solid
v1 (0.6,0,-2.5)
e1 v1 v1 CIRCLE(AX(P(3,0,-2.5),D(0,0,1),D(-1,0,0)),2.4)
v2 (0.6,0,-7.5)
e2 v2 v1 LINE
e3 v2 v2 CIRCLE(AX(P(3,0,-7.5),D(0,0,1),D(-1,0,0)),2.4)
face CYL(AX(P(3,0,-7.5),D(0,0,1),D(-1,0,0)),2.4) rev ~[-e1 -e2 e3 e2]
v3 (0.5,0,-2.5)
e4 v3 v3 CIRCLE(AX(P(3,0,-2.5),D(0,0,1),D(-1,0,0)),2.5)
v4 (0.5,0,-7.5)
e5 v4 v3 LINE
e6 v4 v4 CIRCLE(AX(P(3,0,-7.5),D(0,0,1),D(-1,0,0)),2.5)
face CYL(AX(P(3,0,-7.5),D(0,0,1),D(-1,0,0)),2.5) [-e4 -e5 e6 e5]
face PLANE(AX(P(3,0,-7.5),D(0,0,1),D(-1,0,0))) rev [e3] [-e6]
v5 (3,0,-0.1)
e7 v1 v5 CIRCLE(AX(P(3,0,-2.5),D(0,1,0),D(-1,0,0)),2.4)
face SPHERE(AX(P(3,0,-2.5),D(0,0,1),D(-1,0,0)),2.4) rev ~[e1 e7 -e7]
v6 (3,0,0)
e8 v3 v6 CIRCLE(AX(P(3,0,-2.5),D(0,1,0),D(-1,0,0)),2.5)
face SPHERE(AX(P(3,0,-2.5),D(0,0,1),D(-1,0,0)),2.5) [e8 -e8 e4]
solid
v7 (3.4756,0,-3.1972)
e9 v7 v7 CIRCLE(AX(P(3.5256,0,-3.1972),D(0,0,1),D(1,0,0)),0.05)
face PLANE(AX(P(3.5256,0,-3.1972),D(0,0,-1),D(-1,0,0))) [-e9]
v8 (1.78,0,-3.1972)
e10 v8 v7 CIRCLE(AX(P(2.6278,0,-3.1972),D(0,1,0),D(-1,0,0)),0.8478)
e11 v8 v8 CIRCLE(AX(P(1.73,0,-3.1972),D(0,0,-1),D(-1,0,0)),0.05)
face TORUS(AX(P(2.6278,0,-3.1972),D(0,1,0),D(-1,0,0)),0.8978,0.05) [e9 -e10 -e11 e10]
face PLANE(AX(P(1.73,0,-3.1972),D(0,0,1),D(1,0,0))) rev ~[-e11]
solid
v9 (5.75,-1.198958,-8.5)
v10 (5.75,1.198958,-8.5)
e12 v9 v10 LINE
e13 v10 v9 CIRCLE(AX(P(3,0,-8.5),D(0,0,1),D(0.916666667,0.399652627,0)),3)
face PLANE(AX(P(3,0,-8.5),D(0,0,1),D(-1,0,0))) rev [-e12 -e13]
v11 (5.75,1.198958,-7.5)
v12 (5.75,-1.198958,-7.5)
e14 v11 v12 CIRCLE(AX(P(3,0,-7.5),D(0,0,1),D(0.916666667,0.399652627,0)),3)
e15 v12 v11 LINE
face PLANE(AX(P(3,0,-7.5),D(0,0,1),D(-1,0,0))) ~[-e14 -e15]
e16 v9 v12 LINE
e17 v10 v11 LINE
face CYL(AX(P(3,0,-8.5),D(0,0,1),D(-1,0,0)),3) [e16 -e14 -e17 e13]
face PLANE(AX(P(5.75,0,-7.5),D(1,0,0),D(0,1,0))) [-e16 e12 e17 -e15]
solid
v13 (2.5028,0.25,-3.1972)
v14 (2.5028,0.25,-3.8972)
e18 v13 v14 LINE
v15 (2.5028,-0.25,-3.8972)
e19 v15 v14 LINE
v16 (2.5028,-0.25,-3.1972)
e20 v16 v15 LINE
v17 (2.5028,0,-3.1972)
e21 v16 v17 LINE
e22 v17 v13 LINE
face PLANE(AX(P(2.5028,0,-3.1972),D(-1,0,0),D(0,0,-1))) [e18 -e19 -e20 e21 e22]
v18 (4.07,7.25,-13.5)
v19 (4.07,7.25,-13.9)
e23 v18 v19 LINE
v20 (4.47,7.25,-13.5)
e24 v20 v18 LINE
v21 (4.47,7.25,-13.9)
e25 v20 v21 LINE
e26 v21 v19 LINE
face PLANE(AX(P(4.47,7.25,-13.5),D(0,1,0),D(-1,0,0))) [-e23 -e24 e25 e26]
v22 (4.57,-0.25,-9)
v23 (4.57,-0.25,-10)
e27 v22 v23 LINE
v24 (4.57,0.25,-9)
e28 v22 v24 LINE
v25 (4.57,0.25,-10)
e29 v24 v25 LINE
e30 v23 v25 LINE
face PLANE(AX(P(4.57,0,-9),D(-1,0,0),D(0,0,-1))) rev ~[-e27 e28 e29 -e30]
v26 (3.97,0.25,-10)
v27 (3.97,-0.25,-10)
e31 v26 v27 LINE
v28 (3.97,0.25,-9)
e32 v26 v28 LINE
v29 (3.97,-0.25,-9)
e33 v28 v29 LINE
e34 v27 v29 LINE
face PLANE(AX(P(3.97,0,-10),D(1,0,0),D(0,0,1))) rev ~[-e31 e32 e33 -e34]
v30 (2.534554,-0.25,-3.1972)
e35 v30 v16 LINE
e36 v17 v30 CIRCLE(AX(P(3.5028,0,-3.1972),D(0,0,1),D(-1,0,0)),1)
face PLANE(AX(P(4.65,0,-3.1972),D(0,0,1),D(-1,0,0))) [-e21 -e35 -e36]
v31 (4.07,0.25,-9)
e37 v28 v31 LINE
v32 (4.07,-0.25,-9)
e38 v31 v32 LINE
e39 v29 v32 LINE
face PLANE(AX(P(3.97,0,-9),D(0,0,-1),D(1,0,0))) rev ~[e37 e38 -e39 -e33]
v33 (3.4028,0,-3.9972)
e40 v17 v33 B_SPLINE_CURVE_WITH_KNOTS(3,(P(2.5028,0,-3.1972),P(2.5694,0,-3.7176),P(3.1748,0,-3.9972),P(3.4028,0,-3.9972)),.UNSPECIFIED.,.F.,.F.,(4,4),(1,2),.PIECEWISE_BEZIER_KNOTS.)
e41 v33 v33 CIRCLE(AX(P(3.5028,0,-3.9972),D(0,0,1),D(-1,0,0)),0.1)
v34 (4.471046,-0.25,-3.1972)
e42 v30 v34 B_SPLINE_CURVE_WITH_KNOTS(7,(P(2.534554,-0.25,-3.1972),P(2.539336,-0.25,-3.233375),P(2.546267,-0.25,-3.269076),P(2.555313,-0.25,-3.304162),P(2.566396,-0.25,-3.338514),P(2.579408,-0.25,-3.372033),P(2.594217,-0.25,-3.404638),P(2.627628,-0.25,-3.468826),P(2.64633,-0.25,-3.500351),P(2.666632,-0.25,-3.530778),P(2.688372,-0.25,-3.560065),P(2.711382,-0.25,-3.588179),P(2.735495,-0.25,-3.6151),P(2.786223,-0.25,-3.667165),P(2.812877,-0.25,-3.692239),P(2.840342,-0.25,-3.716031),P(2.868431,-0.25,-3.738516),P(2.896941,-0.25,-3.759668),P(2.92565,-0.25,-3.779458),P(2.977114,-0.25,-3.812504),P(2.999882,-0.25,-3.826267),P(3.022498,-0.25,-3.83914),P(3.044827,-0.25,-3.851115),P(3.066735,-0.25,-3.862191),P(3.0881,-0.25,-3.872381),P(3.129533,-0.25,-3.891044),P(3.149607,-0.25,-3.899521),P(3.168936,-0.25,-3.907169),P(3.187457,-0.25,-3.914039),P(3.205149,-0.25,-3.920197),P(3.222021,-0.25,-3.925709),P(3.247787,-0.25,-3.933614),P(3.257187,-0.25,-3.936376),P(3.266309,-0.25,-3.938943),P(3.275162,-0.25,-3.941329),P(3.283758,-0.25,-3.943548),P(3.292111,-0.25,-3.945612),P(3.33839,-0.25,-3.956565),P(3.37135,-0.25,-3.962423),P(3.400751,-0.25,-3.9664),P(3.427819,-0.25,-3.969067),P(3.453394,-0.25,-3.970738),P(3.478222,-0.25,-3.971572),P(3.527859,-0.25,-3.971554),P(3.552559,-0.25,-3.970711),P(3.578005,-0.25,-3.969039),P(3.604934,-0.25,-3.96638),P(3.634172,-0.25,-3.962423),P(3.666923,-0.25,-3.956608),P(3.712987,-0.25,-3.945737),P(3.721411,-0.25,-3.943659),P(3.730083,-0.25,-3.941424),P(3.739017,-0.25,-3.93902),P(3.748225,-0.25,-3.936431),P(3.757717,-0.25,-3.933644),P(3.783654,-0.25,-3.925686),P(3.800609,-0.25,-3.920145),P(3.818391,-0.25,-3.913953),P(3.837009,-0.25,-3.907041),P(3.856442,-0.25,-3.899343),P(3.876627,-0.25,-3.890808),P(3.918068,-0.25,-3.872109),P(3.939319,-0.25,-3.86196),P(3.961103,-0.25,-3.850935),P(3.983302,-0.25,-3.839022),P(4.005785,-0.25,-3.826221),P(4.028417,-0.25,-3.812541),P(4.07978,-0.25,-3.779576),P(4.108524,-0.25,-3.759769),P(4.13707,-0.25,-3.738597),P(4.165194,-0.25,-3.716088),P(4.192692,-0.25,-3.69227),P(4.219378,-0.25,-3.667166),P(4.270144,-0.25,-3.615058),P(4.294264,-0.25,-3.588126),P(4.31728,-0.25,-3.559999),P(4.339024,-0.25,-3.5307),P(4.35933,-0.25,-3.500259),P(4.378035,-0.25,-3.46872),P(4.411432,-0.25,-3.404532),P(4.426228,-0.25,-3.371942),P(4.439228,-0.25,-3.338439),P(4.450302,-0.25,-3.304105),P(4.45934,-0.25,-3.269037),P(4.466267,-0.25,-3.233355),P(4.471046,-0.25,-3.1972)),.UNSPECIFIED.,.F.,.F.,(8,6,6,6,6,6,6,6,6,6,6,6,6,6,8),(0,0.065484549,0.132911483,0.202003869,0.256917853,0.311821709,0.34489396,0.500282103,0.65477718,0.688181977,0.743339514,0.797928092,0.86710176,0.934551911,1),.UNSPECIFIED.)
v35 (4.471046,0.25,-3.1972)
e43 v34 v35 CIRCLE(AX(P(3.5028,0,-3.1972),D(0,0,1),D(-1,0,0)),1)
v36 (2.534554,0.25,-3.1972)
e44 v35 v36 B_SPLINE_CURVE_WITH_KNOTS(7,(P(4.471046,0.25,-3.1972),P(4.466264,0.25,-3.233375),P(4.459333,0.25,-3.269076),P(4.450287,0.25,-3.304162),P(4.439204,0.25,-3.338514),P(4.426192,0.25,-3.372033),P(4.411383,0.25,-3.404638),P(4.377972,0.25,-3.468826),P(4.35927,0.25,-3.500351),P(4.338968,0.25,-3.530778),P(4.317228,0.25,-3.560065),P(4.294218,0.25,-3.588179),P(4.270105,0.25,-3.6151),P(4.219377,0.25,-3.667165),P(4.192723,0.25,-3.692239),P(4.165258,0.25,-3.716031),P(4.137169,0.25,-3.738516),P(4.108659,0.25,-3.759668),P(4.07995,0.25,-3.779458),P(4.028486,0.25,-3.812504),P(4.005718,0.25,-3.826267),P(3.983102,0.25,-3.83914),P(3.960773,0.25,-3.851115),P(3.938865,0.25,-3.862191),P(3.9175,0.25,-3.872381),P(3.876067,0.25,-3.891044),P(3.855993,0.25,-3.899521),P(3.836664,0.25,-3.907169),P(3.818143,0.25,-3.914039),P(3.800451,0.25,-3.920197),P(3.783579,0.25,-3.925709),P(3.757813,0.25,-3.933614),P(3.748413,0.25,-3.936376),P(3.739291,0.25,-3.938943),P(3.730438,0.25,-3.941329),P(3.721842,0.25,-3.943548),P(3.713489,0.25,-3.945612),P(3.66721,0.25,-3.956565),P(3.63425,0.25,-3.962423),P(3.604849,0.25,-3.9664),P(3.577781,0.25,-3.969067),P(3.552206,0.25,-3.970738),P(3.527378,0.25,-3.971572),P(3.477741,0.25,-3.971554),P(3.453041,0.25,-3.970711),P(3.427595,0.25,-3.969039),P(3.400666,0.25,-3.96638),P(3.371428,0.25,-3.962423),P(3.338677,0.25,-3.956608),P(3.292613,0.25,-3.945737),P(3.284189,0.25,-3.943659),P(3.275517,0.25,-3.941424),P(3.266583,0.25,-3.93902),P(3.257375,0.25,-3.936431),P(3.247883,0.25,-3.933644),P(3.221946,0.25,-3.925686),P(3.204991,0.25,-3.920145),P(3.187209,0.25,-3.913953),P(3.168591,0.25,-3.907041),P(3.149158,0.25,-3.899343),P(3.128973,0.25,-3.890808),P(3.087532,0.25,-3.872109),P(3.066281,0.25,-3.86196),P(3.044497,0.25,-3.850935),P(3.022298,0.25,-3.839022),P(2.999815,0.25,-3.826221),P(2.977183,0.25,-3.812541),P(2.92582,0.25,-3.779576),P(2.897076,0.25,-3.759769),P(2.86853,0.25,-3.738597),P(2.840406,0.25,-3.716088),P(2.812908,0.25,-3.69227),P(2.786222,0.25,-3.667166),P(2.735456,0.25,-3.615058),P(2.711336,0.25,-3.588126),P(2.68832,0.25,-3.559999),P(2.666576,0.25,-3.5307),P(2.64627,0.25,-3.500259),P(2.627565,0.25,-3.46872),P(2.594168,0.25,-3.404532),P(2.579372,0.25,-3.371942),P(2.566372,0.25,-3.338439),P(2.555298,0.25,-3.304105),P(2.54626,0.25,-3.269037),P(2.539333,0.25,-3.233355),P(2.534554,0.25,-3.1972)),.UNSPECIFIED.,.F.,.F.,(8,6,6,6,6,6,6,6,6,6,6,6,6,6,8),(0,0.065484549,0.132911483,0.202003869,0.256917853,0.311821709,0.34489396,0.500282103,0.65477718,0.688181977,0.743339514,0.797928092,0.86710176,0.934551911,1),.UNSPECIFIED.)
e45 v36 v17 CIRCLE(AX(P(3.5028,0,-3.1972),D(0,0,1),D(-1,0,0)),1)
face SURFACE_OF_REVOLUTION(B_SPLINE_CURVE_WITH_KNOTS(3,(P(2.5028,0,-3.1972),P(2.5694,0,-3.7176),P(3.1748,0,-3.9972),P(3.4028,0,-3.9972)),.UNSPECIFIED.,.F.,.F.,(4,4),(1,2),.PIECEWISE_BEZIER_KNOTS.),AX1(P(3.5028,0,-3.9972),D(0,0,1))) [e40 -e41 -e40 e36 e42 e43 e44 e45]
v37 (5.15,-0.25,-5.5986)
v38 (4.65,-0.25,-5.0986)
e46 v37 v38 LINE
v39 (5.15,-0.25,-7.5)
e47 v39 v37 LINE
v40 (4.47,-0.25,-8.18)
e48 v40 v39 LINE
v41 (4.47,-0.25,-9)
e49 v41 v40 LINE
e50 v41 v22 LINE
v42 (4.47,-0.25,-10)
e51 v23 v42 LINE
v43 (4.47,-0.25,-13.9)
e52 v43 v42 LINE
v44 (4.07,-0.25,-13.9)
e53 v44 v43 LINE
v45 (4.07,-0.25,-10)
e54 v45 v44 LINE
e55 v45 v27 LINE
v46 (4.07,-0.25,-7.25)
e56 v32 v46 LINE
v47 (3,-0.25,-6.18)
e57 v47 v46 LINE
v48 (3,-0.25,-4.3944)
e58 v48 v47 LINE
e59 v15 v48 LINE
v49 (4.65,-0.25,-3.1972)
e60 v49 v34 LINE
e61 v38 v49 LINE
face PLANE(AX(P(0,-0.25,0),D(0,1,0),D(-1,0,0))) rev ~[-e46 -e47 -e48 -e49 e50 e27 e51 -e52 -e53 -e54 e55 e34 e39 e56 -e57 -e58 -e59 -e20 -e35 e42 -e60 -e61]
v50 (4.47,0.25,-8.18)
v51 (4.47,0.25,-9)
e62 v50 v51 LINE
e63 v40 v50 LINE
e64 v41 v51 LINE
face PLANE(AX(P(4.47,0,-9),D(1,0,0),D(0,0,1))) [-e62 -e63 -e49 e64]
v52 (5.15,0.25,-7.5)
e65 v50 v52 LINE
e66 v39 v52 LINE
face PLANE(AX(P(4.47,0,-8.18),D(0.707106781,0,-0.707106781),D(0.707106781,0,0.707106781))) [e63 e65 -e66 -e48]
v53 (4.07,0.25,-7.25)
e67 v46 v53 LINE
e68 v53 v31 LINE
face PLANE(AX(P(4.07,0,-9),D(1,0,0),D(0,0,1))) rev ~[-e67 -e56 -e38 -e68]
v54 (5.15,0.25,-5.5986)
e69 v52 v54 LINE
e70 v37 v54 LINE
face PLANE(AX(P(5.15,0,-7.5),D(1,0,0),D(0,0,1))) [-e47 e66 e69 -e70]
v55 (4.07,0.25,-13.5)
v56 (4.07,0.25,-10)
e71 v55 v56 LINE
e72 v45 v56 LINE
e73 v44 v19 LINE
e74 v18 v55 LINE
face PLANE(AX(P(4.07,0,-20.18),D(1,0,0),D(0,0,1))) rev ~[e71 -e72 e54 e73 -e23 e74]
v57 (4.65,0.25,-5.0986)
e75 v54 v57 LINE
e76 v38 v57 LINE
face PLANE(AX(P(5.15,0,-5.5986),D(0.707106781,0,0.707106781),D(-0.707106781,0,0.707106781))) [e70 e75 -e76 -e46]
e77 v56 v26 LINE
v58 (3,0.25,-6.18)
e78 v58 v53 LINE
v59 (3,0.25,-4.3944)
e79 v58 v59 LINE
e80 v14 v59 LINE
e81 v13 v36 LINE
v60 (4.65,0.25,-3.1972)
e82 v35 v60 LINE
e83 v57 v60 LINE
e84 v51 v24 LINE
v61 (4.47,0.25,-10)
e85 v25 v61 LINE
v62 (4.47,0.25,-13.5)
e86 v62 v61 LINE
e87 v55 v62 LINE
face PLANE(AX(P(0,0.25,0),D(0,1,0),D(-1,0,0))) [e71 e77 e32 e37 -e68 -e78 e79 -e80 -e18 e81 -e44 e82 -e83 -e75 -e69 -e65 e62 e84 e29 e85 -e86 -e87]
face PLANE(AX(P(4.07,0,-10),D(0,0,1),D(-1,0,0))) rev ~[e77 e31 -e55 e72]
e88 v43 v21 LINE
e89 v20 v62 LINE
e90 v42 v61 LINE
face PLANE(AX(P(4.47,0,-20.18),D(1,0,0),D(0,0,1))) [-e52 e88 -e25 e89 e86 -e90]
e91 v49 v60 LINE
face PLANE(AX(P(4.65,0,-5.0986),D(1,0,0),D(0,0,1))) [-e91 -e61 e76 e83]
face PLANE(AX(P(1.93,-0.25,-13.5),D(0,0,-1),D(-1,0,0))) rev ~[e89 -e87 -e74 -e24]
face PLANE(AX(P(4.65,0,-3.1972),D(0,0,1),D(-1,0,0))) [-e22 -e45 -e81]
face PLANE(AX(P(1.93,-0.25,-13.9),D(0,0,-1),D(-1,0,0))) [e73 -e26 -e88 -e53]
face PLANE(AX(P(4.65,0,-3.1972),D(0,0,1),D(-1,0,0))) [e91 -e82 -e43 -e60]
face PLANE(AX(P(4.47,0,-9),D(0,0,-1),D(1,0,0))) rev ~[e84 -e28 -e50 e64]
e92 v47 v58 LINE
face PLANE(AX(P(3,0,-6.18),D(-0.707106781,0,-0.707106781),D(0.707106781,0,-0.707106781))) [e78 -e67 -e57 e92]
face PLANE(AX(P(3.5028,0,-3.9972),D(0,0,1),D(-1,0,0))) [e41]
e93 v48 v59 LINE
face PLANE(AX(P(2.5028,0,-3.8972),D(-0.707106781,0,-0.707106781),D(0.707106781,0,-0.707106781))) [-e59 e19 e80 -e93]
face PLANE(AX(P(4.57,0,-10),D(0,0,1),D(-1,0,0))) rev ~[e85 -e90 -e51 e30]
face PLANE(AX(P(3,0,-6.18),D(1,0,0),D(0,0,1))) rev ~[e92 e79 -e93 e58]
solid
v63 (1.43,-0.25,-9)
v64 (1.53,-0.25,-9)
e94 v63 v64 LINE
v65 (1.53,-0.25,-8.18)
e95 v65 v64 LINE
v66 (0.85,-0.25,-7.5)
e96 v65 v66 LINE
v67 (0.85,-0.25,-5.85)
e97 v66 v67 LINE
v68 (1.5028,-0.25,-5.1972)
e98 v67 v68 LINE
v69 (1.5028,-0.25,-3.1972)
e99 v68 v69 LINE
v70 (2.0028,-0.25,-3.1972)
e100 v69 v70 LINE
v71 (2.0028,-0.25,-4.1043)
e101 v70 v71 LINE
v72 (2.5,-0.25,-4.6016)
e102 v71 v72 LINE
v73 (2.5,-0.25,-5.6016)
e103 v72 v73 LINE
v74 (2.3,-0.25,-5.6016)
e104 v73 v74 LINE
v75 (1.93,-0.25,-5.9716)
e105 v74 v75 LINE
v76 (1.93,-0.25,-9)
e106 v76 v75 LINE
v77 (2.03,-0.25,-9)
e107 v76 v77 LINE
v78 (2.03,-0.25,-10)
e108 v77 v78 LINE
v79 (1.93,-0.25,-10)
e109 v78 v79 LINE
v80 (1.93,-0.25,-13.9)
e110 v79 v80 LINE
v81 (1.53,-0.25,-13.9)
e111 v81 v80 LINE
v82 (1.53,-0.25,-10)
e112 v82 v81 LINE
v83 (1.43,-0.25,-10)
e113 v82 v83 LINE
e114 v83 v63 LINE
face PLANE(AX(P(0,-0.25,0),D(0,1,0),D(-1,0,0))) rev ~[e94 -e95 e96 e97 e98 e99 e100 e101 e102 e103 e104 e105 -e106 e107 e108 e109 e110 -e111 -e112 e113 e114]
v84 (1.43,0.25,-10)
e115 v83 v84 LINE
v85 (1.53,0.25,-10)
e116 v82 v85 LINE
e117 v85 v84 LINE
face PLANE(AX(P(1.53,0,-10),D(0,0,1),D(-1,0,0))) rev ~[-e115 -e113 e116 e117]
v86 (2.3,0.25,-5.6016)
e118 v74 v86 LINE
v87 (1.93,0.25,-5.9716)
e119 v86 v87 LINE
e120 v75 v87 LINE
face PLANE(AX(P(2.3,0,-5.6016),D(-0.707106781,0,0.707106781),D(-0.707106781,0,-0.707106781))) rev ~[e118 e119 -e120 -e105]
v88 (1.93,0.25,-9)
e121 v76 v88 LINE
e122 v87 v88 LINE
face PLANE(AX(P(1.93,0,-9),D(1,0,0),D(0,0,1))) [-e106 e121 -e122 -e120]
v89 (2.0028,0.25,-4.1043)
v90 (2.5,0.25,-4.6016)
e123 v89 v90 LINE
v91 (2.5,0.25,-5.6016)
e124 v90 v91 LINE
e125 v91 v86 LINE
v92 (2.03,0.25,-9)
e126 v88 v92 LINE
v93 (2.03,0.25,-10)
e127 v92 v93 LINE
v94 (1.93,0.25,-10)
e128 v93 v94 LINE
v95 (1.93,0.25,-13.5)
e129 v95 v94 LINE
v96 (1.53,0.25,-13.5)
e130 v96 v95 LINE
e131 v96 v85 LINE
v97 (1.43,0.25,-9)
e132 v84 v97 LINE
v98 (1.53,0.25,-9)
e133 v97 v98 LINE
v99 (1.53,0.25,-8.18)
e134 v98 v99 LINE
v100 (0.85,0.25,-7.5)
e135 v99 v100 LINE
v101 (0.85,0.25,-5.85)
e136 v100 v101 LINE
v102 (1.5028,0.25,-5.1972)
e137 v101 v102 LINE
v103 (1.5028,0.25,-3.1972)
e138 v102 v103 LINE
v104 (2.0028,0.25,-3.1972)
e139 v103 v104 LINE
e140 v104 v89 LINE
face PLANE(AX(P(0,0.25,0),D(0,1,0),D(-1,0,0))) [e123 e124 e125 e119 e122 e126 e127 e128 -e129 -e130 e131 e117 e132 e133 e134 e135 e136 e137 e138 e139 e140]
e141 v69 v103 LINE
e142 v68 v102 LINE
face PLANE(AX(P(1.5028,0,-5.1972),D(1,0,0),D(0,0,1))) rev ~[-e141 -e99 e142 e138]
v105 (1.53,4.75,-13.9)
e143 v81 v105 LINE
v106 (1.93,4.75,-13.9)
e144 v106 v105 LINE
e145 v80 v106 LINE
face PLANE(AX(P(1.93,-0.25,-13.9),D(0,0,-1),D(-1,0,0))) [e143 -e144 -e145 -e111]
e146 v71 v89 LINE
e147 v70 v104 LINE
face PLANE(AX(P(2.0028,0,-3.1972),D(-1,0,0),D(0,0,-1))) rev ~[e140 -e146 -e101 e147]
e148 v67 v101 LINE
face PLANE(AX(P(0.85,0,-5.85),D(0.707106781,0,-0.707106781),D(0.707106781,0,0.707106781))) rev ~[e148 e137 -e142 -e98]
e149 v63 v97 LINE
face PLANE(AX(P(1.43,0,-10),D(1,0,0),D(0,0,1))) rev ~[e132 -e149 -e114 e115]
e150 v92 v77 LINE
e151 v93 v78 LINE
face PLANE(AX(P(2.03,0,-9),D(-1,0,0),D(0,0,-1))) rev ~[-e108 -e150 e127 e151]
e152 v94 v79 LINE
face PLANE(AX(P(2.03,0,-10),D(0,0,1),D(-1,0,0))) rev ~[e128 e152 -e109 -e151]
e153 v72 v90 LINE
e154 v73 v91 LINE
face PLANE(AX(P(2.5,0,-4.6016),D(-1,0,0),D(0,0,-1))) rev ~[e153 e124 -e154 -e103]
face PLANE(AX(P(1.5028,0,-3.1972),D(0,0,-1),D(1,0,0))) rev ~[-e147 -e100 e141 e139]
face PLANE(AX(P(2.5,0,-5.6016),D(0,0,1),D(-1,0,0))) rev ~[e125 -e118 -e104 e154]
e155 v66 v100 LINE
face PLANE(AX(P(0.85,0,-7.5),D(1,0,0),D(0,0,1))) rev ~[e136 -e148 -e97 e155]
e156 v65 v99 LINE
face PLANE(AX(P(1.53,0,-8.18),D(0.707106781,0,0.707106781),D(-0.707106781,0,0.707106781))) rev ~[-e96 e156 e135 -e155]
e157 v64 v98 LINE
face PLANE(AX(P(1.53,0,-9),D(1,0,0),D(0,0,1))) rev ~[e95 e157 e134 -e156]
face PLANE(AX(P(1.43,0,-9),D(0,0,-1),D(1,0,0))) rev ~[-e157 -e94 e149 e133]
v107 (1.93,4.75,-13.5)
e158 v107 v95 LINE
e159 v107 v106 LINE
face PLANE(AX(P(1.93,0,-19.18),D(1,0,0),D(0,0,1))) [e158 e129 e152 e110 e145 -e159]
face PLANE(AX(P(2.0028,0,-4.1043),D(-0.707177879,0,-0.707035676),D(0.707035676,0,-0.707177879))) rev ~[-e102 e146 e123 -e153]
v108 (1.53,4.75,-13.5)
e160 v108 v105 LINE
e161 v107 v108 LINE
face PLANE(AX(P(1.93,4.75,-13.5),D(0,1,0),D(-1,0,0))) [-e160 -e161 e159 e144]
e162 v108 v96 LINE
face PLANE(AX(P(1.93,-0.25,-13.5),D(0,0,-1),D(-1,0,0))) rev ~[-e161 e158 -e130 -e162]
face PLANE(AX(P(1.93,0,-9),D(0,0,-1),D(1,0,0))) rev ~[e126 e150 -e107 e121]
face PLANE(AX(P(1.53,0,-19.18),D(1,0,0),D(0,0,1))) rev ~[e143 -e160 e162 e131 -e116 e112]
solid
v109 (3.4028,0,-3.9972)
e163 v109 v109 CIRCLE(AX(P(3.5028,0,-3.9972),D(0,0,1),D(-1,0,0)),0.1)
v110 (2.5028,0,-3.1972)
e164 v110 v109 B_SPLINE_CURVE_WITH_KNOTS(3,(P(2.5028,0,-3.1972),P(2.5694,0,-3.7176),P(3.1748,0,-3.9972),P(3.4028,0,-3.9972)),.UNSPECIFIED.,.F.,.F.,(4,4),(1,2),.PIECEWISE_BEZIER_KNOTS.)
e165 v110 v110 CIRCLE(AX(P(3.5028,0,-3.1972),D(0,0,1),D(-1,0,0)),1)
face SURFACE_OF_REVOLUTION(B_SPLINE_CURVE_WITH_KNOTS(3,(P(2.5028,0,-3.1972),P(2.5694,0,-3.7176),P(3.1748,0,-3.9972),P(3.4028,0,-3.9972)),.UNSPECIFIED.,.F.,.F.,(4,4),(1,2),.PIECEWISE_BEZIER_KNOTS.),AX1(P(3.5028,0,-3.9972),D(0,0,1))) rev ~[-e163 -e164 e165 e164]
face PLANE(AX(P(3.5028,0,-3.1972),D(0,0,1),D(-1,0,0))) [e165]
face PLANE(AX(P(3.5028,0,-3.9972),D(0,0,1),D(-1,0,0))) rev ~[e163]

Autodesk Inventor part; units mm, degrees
ref_plane "YZ Plane" through (0, 0, 0) normal (1, 0, 0) x (0, 1, 0)
ref_plane "XZ Plane" through (0, 0, 0) normal (0, 1, 0) x (-1, 0, 0)
ref_plane "XY Plane" through (0, 0, 0) normal (0, 0, 1) x (1, 0, 0)
sketch "Sketch1" plane through (0, 0, 0) normal (0, 1, 0) x (-1, 0, 0)
  line L0 (-1.93, -19.18) -> (-1.53, -19.18)
  line L1 (-4.47, -20.18) -> (-4.07, -20.18)
  line L2 (-0.5, -2.5) -> (-5.5, -2.5) construction
  line L3 (-5.5, -2.5) -> (-5.5, -7.5)
  line L4 (-5.5, -7.5) -> (-0.5, -7.5)
  line L5 (-0.5, -7.5) -> (-0.5, -2.5)
  line L6 (0, -7.5) -> (-6, -7.5)
  line L7 (-6, -7.5) -> (-6, -8.5)
  line L8 (-6, -8.5) -> (0, -8.5)
  line L9 (0, -8.5) -> (0, -7.5)
  arc A0 (-0.5, -2.5) -> (-5.5, -2.5) centre (-3, -2.5) ccw
  line L10 (0, -24.216) -> (0, 4.0361) projected
  line L11 (17.1925, 0) -> (-9.8654, 0) projected
  line L12 (-3, -8.5) -> (-3, -19.8408) construction
  line L13 (-1.53, -19.18) -> (-1.53, -10)
  line L14 (-1.93, -19.18) -> (-1.93, -10)
  line L15 (-4.07, -20.18) -> (-4.07, -10)
  line L16 (-4.47, -20.18) -> (-4.47, -10)
  line L17 (-3, -8.5) -> (-3, 0)
  line L18 (-6, -19.8408) -> (0, -19.8408) construction
  line L19 (-1.43, -9) -> (-1.53, -9)
  line L20 (-2.03, -9) -> (-2.03, -10)
  line L21 (-2.03, -10) -> (-1.93, -10)
  line L22 (-1.43, -10) -> (-1.43, -9)
  line L23 (-3.97, -9) -> (-4.07, -9)
  line L24 (-4.57, -9) -> (-4.57, -10)
  line L25 (-4.57, -10) -> (-4.47, -10)
  line L26 (-3.97, -10) -> (-3.97, -9)
  line L27 (-1.93, -9) -> (-2.03, -9)
  line L28 (-4.07, -9) -> (-4.07, -7.25)
  line L29 (-4.47, -9) -> (-4.57, -9)
  line L30 (-4.07, -10) -> (-3.97, -10)
  line L31 (-1.53, -10) -> (-1.43, -10)
  line L32 (-4.47, -9) -> (-4.47, -8.18)
  line L33 (-1.93, -9) -> (-1.93, -5.9716)
  line L34 (-1.53, -9) -> (-1.53, -8.18)
  line L35 (-4.47, -8.18) -> (-5.15, -7.5)
  line L36 (-1.53, -8.18) -> (-0.85, -7.5)
  line L37 (-0.85, -7.5) -> (-0.85, -5.85)
  line L38 (-5.15, -7.5) -> (-5.15, -5.5986)
  line L39 (-5.15, -5.5986) -> (-4.65, -5.0986)
  line L40 (-4.65, -5.0986) -> (-4.65, -3.1972)
  line L41 (-4.65, -3.1972) -> (-2.5028, -3.1972)
  line L42 (-0.85, -5.85) -> (-1.5028, -5.1972)
  line L43 (-1.5028, -5.1972) -> (-1.5028, -3.1972)
  line L44 (-1.5028, -3.1972) -> (-2.0028, -3.1972)
  line L45 (-2.0028, -3.1972) -> (-2.0028, -4.1043)
  line L46 (-2.0028, -4.1043) -> (-2.5, -4.6016)
  line L47 (-2.5, -4.6016) -> (-2.5, -5.6016)
  line L48 (-2.5, -5.6016) -> (-2.3, -5.6016)
  line L49 (-2.3, -5.6016) -> (-1.93, -5.9716)
  line L50 (8.8309, -12.5892) -> (8.8309, -17.0713)
  line L51 (8.7309, -12.5892) -> (8.8309, -12.5892)
  line L52 (8.8309, -17.0713) -> (9.3309, -17.0713)
  line L53 (9.3309, -17.0713) -> (9.3309, -12.5892)
  line L54 (11.3309, -18.2444) -> (11.8309, -18.2444)
  line L55 (11.3309, -12.5815) -> (11.3309, -18.2444)
  line L56 (11.8309, -18.2444) -> (11.8309, -12.5815)
  line L57 (8.2266, -6.0537) -> (8.2266, -7.4999)
  line L58 (8.5861, -5.6941) -> (8.2266, -6.0537)
  line L59 (8.5861, -4.3452) -> (8.5861, -5.6941)
  line L60 (8.2266, -7.4999) -> (8.8309, -8.1043)
  line L61 (9.3309, -7.3282) -> (9.7365, -6.9226)
  line L62 (9.7365, -6.9226) -> (10.3309, -6.9226)
  line L63 (10.3309, -6.9226) -> (10.3309, -5.844)
  line L64 (8.5861, -4.3452) -> (11.2106, -4.3452)
  line L65 (10.8309, -6.0512) -> (10.8309, -6.9149)
  line L66 (10.8309, -6.9149) -> (11.1527, -6.9149)
  line L67 (11.2393, -4.3452) -> (11.2106, -4.3452)
  line L68 (11.1527, -6.9149) -> (11.3309, -7.0932)
  line L69 (11.8309, -8.0966) -> (12.4276, -7.4999)
  line L70 (12.4276, -7.4999) -> (12.4276, -5.8553)
  line L71 (9.4309, -11.5892) -> (9.3309, -11.5892)
  line L72 (11.8309, -11.5815) -> (11.8309, -8.0966)
  line L73 (8.8309, -8.1043) -> (8.8309, -11.5892)
  line L74 (11.3309, -7.0932) -> (11.3309, -11.5815)
  line L75 (9.3309, -11.5892) -> (9.3309, -7.3282)
  line L76 (10.3309, -5.844) -> (11.2106, -4.9643)
  line L77 (11.7107, -5.1714) -> (10.8309, -6.0512)
  line L78 (11.2106, -4.3452) -> (11.2393, -4.3452) construction
  line L79 (12.4276, -5.8553) -> (12.2082, -5.6359)
  line L80 (11.2106, -4.2719) -> (11.2106, -4.3452)
  line L81 (11.2106, -4.9643) -> (11.2106, -4.2719)
  line L82 (11.2106, -4.2719) -> (11.2393, -4.3452)
  line L83 (11.7107, -4.3453) -> (11.7107, -5.1714)
  line L84 (10.8445, -3.7709) -> (11.3445, -3.7709) construction
  spline S0 degree 3 poles (11.9954, -4.3997) (11.9862, -4.3486) (11.9578, -4.2521) (11.8889, -4.1254) (11.7974, -4.0171) (11.6749, -3.9177) (11.5186, -3.8358) (11.3301, -3.782) (11.1322, -3.7647) (10.9338, -3.7851) (10.7437, -3.8443) (10.5851, -3.9352) (10.4598, -4.0478) (10.3654, -4.1727) (10.2931, -4.3216) (10.262, -4.4371) (10.2513, -4.4991) knots 0 0 0 0 0.0625 0.125 0.1875 0.25 0.333333 0.416667 0.5 0.583333 0.666667 0.75 0.8125 0.875 0.9375 1 1 1 1
  line L85 (12.2082, -4.3453) -> (11.7107, -4.3453)
  line L86 (12.2082, -5.6359) -> (12.2082, -4.3453)
  line L87 (9.3309, -12.5892) -> (9.4309, -12.5892)
  line L88 (11.2309, -12.5815) -> (11.3309, -12.5815)
  line L89 (11.8309, -12.5815) -> (11.9309, -12.5815)
  line L90 (8.7309, -11.5892) -> (8.7309, -12.5892)
  line L91 (8.8309, -11.5892) -> (8.7309, -11.5892)
  line L92 (9.4309, -12.5892) -> (9.4309, -11.5892)
  line L93 (11.3309, -11.5815) -> (11.2309, -11.5815)
  line L94 (11.2309, -11.5815) -> (11.2309, -12.5815)
  line L95 (11.9309, -12.5815) -> (11.9309, -11.5815)
  line L96 (11.9309, -11.5815) -> (11.8309, -11.5815)
  line L97 (13.3271, -7.4999) -> (7.3271, -7.4999)
  line L98 (7.3271, -7.4999) -> (7.3271, -8.4999)
  line L99 (7.3271, -8.4999) -> (13.3271, -8.4999)
  line L100 (13.3271, -8.4999) -> (13.3271, -7.4999)
  line L101 (12.4276, -7.4999) -> (8.2266, -7.4999)
  line L102 (12.8271, -7.4999) -> (7.8271, -7.4999)
  line L103 (7.8271, -7.4999) -> (7.8271, -2.4999)
  line L104 (7.8271, -2.4999) -> (12.8271, -2.4999) construction
  line L105 (12.8271, -2.4999) -> (12.8271, -7.4999)
  arc A1 (12.8271, -2.4999) -> (7.8271, -2.4999) centre (10.3271, -2.4999) ccw
  line L106 (-2.5028, -3.1972) -> (-2.5028, -3.8972)
  line L107 (-2.5028, -3.8972) -> (-3, -4.3944)
  line L108 (-3, -4.3944) -> (-3, -5.9975)
  line L109 (-3, -6.18) -> (-4.07, -7.25)
  line L110 (-2.5028, -3.1972) -> (-2.0028, -3.1972) construction
  line L111 (-2.5, -5.6016) -> (-3, -5.9975) construction
  point P0 (0, 0)
  point P1 (-3, -7.5)
  point P2 (0, -8)
  point P3 (-1.73, -19.18)
  point P4 (-4.27, -20.18)
  point P5 (-3, -7.5)
  point P6 (0, 0)
  point P7 (7.8271, -7.4999)
  point P8 (10.3271, -7.4999)
  point P9 (-3, -5.196)
  point P10 (-3, -4.3944)
  point P11 (-3, -3.1972)
  dimension "d10" = 5
  dimension "d12" = 6
  dimension "d13" = 5
  dimension "d14" = 6
  dimension "Jarak_Kaki" = 2.54
  dimension "d18" = 1
  dimension "d19" = 0.4
  dimension "d20" = 1.27
  dimension "Panjang_Kaki" = 12
  dimension "d30" = 0.6
  dimension "d31" = 1
  dimension "d32" = 0.5
  dimension "d34" = 135
  dimension "d35" = 0.35
  dimension "d51" = 0.5
  dimension "d76" = 1.65
  dimension "d82" = 2.5
  dimension "d83" = 0.5
  dimension "d84" = 0.5
  dimension "d85" = 1
  dimension "d86" = 0.5
  dimension "d87" = 0.5
  dimension "d89" = 0.7
  dimension "d92" = 0.5
  dimension "d93" = 0.25
  dimension "d95" = 1
  dimension "d104" = 0.2
  dimension "d106" = 2
revolve "Revolution1" add sketch "Sketch1" angle 360 about axis through (3, 0, -8.5) along (0, 0, 1) contours L33 L49 L48 L47 L46 L45 L44 L43 L42 L37 L4 | L4 L17 L107 L106 L41 A0 L5 L37 L42 L43 L44 L45 L46 L47 L48 L49 L33 | L17 L41 L106 L107
shell "Shell1" thickness 0.1 removed faces 1 at (3.6238, -0.5526, -7.5)
revolve "Revolution2" add sketch "Sketch1" angle 360 about axis through (3, 0, -8.5) along (0, 0, 1) separate body contours L33 L4 L36 L34 L8 | L8 L17 L4 L33 | L34 L36 L4 L6 L9 L8
sketch "Sketch2" plane through (3, 0, -7.5) normal (0, 0, 1) x (1, 0, 0)
  line L0 (2.75, 2.5) -> (3.75, 2.5)
  line L1 (3.75, 2.5) -> (3.75, -2.5)
  line L2 (3.75, -2.5) -> (2.75, -2.5)
  line L3 (2.75, -2.5) -> (2.75, 2.5)
  circle A0 centre (0, 0) radius 2.5 projected
  circle A1 centre (0, 0) radius 2.5 projected
  line L4 (-3, -4.2) -> (-3, 4.2) construction
  line L5 (2.5, -1.6681) -> (2.5, 1.3873) construction
  line L6 (-4.368, 0) -> (5.2078, 0) projected
  point P0 (-3, 0)
  point P1 (2.75, 0)
  dimension "d110" = 0.25
  dimension "d111" = 5
  dimension "d112" = 1
extrude "Extrusion1" cut sketch "Sketch2" against normal up to next contours L0 L1 L6 L3 | L6 L1 L2 L3 bodies 2
extrude "Extrusion2" add sketch "Sketch1" along normal mid plane 0.5 separate body contours L14 L21 L20 L27 L33 L8 L34 L19 L22 L31 L13 L0 | L33 L4 L36 L34 L8 | L33 L49 L48 L47 L46 L45 L44 L43 L42 L37 L4 | L28 L23 L26 L30 L15 L1 L16 L25 L24 L29 L32 L8 | L8 L32 L35 L4 L28 | L4 L38 L39 L40 L41 L17 L109 L28 | L17 L41 L106 L107
sketch "Sketch3" plane through (2.4, 0, -4) normal (0, 1, 0) x (1, 0, 0)
  line L0 (0.1028, -0.1028) -> (0.1028, -0.8028) projected
  line L1 (0.1028, -0.8028) -> (0.1694, -0.2824) construction
  line L2 (0.1694, -0.2824) -> (0.7748, -0.0028) construction
  line L3 (0.7748, -0.0028) -> (1.0028, -0.0028) construction
  spline S0 degree 3 poles (0.1028, -0.8028) (0.1694, -0.2824) (0.7748, -0.0028) (1.0028, -0.0028) knots 1 1 1 1 2 2 2 2
  line L4 (0.1028, -0.8028) -> (2.25, -0.8028) projected
  line L5 (1.0028, -0.0028) -> (1.1028, -0.0028)
  line L6 (1.1028, -0.0028) -> (1.1028, -0.8028)
  dimension "d99" = 0.8
  dimension "d100" = 0.9
  dimension "d101" = 0.1
revolve "Revolution3" cut sketch "Sketch3" angle 360 about axis through (3.5028, 0, -3.9972) along (0, 0, 1) bodies 3
revolve "Revolution4" add sketch "Sketch3" angle 360 about axis through (3.5028, 0, -3.9972) along (0, 0, 1) separate body
sketch "Sketch4" plane through (3.5028, 0, -3.1972) normal (0, 0, 1) x (1, 0, 0)
  circle A0 centre (-1.7728, 0) radius 0.05
  line L0 (-2, -0.25) -> (-2, 0.25) construction
  line L1 (-2, 0.25) -> (-1.5, 0.25) construction
  line L2 (-1.5728, 0.25) -> (-1.9728, 0.25) construction
  line L3 (-2, 0) -> (-1.7728, 0) construction
  line L4 (-1.7728, 0) -> (-1.7728, 0.25) construction
  line L5 (-1.7728, 0.25) -> (-2, 0.25) construction
  line L6 (-2, 0.25) -> (-2, 0) construction
  circle A1 centre (0, 0) radius 0.05
  point P0 (-3.5028, 0)
  dimension "d109" = 0.1
sketch "Sketch5" plane through (0, 0, 0) normal (0, 1, 0) x (-1, 0, 0)
  line L0 (-5.5, -2.5) -> (-0.5, -2.5) construction
  line L1 (-5.5, -7.5) -> (-0.5, -7.5) construction
  line L2 (-1.5028, -3.1972) -> (-2.0028, -3.1972) construction
  line L3 (-4.5028, -3.1972) -> (-2.5028, -3.1972) construction
  line L4 (-1.7528, -3.1972) -> (-3.5028, -3.1972) construction
  arc A0 (-1.7528, -3.1972) -> (-3.5028, -3.1972) centre (-2.6278, -3.1972) ccw
  point P0 (0, 0)
sweep "Sweep1" add profiles "Sketch4" path "Sketch5" separate body contours A0
sketch "Sketch8" plane through (0, -0.25, 0) normal (0, -1, 0) x (1, 0, 0)
  arc A0 (5.4875, -2.5) -> (0.5125, -2.5) centre (3, -2.5) ccw projected
  line L0 (5.4875, -2.5) -> (5.4875, -7.5) projected
  line L1 (5.4875, -7.5) -> (5.3869, -7.5) projected
  line L2 (5.3869, -7.5) -> (5.3869, -2.5) projected
  arc A1 (5.3869, -2.5) -> (0.6131, -2.5) centre (3, -2.5) ccw projected
  line L3 (0.6131, -2.5) -> (0.6131, -7.5) projected
  line L4 (0.6131, -7.5) -> (0.5125, -7.5) projected
  line L5 (0.5125, -7.5) -> (0.5125, -2.5) projected
  line L6 (5.75, -7.5) -> (5.75, -8.5) projected
  line L7 (5.75, -8.5) -> (0.0104, -8.5) projected
  line L8 (0.0104, -8.5) -> (0.0104, -7.5) projected
  line L9 (0.0104, -7.5) -> (5.75, -7.5) projected
  line L10 (1.93, -5.9716) -> (1.93, -9) projected
  line L11 (1.93, -9) -> (2.03, -9) projected
  line L12 (2.03, -9) -> (2.03, -10) projected
  line L13 (2.03, -10) -> (1.93, -10) projected
  line L14 (1.93, -10) -> (1.93, -19.18) projected
  line L15 (1.93, -19.18) -> (1.53, -19.18) projected
  line L16 (1.53, -19.18) -> (1.53, -10) projected
  line L17 (1.53, -10) -> (1.43, -10) projected
  line L18 (1.43, -10) -> (1.43, -9) projected
  line L19 (1.43, -9) -> (1.53, -9) projected
  line L20 (1.53, -9) -> (1.53, -8.18) projected
  line L21 (1.53, -8.18) -> (0.85, -7.5) projected
  line L22 (0.85, -7.5) -> (0.85, -5.85) projected
  line L23 (0.85, -5.85) -> (1.5028, -5.1972) projected
  line L24 (1.5028, -5.1972) -> (1.5028, -3.1972) projected
  line L25 (1.5028, -3.1972) -> (2.0028, -3.1972) projected
  line L26 (2.0028, -3.1972) -> (2.0028, -4.1043) projected
  line L27 (2.0028, -4.1043) -> (2.5, -4.6016) projected
  line L28 (2.5, -4.6016) -> (2.5, -5.6016) projected
  line L29 (2.5, -5.6016) -> (2.3, -5.6016) projected
  line L30 (2.3, -5.6016) -> (1.93, -5.9716) projected
  line L31 (4.471, -3.1972) -> (4.65, -3.1972) projected
  line L32 (4.65, -3.1972) -> (4.65, -5.0986) projected
  line L33 (4.65, -5.0986) -> (5.15, -5.5986) projected
  line L34 (5.15, -5.5986) -> (5.15, -7.5) projected
  line L35 (5.15, -7.5) -> (4.47, -8.18) projected
  line L36 (4.47, -8.18) -> (4.47, -9) projected
  line L37 (4.47, -9) -> (4.57, -9) projected
  line L38 (4.57, -9) -> (4.57, -10) projected
  line L39 (4.57, -10) -> (4.47, -10) projected
  line L40 (4.47, -10) -> (4.47, -20.18) projected
  line L41 (4.47, -20.18) -> (4.07, -20.18) projected
  line L42 (4.07, -20.18) -> (4.07, -10) projected
  line L43 (4.07, -10) -> (3.97, -10) projected
  line L44 (3.97, -10) -> (3.97, -9) projected
  line L45 (3.97, -9) -> (4.07, -9) projected
  line L46 (4.07, -9) -> (4.07, -7.25) projected
  line L47 (4.07, -7.25) -> (3, -6.18) projected
  line L48 (3, -6.18) -> (3, -4.3944) projected
  line L49 (3, -4.3944) -> (2.5028, -3.8972) projected
  line L50 (2.5028, -3.8972) -> (2.5028, -3.1972) projected
  line L51 (2.5028, -3.1972) -> (2.5345, -3.1972) projected
  line L52 (2.5345, -3.1972) -> (4.471, -3.1972) projected
  line L53 (1.53, -13.5) -> (4.47, -13.5)
  point P0 (0, 0)
  point P1 (4.07, -13.5)
  point P2 (1.93, -13.5)
  dimension "d117" = 5
extrude "Extrusion3" cut sketch "Sketch8" against normal up to surface (0.5 mm away) contours L40 L41 L42 L53 | L53 L14 L15 L16 bodies 3
sketch "Sketch9" plane through (1.93, -0.25, -13.5) normal (0, 0, -1) x (-1, 0, 0)
  line L0 (-2.54, 0.5) -> (-2.14, 0.5) projected
  line L1 (-2.14, 0.5) -> (-2.14, 0) projected
  line L2 (-2.14, 0) -> (-2.54, 0) projected
  line L3 (-2.54, 0) -> (-2.54, 0.5) projected
  line L4 (0, 0.5) -> (0.4, 0.5) projected
  line L5 (0.4, 0.5) -> (0.4, 0) projected
  line L6 (0.4, 0) -> (0, 0) projected
  line L7 (0, 0) -> (0, 0.5) projected
  line L8 (0.4, 0) -> (0, 0)
  line L9 (0, 0) -> (0, 5)
  line L10 (0, 5) -> (0.4, 5)
  line L11 (0.4, 5) -> (0.4, 0)
  line L12 (-2.14, 0) -> (-2.54, 0)
  line L13 (-2.54, 0) -> (-2.54, 7.5)
  line L14 (-2.54, 7.5) -> (-2.14, 7.5)
  line L15 (-2.14, 7.5) -> (-2.14, 0)
  point P0 (1.93, 0.25)
  dimension "d120" = 0.4
  dimension "d121" = 5
  dimension "d122" = 0.4
  dimension "d123" = 7.5
extrude "Extrusion4" add sketch "Sketch9" along normal blind 0.4 bodies 3
equation "\"d10\" = Diameter_Led"
equation "\"d13\" = Diameter_Led"
equation "\"d20\" = 0.5 * Jarak_Kaki"
equation "\"Diameter_Led\" = 5"
properties part number "LED - yellow"
